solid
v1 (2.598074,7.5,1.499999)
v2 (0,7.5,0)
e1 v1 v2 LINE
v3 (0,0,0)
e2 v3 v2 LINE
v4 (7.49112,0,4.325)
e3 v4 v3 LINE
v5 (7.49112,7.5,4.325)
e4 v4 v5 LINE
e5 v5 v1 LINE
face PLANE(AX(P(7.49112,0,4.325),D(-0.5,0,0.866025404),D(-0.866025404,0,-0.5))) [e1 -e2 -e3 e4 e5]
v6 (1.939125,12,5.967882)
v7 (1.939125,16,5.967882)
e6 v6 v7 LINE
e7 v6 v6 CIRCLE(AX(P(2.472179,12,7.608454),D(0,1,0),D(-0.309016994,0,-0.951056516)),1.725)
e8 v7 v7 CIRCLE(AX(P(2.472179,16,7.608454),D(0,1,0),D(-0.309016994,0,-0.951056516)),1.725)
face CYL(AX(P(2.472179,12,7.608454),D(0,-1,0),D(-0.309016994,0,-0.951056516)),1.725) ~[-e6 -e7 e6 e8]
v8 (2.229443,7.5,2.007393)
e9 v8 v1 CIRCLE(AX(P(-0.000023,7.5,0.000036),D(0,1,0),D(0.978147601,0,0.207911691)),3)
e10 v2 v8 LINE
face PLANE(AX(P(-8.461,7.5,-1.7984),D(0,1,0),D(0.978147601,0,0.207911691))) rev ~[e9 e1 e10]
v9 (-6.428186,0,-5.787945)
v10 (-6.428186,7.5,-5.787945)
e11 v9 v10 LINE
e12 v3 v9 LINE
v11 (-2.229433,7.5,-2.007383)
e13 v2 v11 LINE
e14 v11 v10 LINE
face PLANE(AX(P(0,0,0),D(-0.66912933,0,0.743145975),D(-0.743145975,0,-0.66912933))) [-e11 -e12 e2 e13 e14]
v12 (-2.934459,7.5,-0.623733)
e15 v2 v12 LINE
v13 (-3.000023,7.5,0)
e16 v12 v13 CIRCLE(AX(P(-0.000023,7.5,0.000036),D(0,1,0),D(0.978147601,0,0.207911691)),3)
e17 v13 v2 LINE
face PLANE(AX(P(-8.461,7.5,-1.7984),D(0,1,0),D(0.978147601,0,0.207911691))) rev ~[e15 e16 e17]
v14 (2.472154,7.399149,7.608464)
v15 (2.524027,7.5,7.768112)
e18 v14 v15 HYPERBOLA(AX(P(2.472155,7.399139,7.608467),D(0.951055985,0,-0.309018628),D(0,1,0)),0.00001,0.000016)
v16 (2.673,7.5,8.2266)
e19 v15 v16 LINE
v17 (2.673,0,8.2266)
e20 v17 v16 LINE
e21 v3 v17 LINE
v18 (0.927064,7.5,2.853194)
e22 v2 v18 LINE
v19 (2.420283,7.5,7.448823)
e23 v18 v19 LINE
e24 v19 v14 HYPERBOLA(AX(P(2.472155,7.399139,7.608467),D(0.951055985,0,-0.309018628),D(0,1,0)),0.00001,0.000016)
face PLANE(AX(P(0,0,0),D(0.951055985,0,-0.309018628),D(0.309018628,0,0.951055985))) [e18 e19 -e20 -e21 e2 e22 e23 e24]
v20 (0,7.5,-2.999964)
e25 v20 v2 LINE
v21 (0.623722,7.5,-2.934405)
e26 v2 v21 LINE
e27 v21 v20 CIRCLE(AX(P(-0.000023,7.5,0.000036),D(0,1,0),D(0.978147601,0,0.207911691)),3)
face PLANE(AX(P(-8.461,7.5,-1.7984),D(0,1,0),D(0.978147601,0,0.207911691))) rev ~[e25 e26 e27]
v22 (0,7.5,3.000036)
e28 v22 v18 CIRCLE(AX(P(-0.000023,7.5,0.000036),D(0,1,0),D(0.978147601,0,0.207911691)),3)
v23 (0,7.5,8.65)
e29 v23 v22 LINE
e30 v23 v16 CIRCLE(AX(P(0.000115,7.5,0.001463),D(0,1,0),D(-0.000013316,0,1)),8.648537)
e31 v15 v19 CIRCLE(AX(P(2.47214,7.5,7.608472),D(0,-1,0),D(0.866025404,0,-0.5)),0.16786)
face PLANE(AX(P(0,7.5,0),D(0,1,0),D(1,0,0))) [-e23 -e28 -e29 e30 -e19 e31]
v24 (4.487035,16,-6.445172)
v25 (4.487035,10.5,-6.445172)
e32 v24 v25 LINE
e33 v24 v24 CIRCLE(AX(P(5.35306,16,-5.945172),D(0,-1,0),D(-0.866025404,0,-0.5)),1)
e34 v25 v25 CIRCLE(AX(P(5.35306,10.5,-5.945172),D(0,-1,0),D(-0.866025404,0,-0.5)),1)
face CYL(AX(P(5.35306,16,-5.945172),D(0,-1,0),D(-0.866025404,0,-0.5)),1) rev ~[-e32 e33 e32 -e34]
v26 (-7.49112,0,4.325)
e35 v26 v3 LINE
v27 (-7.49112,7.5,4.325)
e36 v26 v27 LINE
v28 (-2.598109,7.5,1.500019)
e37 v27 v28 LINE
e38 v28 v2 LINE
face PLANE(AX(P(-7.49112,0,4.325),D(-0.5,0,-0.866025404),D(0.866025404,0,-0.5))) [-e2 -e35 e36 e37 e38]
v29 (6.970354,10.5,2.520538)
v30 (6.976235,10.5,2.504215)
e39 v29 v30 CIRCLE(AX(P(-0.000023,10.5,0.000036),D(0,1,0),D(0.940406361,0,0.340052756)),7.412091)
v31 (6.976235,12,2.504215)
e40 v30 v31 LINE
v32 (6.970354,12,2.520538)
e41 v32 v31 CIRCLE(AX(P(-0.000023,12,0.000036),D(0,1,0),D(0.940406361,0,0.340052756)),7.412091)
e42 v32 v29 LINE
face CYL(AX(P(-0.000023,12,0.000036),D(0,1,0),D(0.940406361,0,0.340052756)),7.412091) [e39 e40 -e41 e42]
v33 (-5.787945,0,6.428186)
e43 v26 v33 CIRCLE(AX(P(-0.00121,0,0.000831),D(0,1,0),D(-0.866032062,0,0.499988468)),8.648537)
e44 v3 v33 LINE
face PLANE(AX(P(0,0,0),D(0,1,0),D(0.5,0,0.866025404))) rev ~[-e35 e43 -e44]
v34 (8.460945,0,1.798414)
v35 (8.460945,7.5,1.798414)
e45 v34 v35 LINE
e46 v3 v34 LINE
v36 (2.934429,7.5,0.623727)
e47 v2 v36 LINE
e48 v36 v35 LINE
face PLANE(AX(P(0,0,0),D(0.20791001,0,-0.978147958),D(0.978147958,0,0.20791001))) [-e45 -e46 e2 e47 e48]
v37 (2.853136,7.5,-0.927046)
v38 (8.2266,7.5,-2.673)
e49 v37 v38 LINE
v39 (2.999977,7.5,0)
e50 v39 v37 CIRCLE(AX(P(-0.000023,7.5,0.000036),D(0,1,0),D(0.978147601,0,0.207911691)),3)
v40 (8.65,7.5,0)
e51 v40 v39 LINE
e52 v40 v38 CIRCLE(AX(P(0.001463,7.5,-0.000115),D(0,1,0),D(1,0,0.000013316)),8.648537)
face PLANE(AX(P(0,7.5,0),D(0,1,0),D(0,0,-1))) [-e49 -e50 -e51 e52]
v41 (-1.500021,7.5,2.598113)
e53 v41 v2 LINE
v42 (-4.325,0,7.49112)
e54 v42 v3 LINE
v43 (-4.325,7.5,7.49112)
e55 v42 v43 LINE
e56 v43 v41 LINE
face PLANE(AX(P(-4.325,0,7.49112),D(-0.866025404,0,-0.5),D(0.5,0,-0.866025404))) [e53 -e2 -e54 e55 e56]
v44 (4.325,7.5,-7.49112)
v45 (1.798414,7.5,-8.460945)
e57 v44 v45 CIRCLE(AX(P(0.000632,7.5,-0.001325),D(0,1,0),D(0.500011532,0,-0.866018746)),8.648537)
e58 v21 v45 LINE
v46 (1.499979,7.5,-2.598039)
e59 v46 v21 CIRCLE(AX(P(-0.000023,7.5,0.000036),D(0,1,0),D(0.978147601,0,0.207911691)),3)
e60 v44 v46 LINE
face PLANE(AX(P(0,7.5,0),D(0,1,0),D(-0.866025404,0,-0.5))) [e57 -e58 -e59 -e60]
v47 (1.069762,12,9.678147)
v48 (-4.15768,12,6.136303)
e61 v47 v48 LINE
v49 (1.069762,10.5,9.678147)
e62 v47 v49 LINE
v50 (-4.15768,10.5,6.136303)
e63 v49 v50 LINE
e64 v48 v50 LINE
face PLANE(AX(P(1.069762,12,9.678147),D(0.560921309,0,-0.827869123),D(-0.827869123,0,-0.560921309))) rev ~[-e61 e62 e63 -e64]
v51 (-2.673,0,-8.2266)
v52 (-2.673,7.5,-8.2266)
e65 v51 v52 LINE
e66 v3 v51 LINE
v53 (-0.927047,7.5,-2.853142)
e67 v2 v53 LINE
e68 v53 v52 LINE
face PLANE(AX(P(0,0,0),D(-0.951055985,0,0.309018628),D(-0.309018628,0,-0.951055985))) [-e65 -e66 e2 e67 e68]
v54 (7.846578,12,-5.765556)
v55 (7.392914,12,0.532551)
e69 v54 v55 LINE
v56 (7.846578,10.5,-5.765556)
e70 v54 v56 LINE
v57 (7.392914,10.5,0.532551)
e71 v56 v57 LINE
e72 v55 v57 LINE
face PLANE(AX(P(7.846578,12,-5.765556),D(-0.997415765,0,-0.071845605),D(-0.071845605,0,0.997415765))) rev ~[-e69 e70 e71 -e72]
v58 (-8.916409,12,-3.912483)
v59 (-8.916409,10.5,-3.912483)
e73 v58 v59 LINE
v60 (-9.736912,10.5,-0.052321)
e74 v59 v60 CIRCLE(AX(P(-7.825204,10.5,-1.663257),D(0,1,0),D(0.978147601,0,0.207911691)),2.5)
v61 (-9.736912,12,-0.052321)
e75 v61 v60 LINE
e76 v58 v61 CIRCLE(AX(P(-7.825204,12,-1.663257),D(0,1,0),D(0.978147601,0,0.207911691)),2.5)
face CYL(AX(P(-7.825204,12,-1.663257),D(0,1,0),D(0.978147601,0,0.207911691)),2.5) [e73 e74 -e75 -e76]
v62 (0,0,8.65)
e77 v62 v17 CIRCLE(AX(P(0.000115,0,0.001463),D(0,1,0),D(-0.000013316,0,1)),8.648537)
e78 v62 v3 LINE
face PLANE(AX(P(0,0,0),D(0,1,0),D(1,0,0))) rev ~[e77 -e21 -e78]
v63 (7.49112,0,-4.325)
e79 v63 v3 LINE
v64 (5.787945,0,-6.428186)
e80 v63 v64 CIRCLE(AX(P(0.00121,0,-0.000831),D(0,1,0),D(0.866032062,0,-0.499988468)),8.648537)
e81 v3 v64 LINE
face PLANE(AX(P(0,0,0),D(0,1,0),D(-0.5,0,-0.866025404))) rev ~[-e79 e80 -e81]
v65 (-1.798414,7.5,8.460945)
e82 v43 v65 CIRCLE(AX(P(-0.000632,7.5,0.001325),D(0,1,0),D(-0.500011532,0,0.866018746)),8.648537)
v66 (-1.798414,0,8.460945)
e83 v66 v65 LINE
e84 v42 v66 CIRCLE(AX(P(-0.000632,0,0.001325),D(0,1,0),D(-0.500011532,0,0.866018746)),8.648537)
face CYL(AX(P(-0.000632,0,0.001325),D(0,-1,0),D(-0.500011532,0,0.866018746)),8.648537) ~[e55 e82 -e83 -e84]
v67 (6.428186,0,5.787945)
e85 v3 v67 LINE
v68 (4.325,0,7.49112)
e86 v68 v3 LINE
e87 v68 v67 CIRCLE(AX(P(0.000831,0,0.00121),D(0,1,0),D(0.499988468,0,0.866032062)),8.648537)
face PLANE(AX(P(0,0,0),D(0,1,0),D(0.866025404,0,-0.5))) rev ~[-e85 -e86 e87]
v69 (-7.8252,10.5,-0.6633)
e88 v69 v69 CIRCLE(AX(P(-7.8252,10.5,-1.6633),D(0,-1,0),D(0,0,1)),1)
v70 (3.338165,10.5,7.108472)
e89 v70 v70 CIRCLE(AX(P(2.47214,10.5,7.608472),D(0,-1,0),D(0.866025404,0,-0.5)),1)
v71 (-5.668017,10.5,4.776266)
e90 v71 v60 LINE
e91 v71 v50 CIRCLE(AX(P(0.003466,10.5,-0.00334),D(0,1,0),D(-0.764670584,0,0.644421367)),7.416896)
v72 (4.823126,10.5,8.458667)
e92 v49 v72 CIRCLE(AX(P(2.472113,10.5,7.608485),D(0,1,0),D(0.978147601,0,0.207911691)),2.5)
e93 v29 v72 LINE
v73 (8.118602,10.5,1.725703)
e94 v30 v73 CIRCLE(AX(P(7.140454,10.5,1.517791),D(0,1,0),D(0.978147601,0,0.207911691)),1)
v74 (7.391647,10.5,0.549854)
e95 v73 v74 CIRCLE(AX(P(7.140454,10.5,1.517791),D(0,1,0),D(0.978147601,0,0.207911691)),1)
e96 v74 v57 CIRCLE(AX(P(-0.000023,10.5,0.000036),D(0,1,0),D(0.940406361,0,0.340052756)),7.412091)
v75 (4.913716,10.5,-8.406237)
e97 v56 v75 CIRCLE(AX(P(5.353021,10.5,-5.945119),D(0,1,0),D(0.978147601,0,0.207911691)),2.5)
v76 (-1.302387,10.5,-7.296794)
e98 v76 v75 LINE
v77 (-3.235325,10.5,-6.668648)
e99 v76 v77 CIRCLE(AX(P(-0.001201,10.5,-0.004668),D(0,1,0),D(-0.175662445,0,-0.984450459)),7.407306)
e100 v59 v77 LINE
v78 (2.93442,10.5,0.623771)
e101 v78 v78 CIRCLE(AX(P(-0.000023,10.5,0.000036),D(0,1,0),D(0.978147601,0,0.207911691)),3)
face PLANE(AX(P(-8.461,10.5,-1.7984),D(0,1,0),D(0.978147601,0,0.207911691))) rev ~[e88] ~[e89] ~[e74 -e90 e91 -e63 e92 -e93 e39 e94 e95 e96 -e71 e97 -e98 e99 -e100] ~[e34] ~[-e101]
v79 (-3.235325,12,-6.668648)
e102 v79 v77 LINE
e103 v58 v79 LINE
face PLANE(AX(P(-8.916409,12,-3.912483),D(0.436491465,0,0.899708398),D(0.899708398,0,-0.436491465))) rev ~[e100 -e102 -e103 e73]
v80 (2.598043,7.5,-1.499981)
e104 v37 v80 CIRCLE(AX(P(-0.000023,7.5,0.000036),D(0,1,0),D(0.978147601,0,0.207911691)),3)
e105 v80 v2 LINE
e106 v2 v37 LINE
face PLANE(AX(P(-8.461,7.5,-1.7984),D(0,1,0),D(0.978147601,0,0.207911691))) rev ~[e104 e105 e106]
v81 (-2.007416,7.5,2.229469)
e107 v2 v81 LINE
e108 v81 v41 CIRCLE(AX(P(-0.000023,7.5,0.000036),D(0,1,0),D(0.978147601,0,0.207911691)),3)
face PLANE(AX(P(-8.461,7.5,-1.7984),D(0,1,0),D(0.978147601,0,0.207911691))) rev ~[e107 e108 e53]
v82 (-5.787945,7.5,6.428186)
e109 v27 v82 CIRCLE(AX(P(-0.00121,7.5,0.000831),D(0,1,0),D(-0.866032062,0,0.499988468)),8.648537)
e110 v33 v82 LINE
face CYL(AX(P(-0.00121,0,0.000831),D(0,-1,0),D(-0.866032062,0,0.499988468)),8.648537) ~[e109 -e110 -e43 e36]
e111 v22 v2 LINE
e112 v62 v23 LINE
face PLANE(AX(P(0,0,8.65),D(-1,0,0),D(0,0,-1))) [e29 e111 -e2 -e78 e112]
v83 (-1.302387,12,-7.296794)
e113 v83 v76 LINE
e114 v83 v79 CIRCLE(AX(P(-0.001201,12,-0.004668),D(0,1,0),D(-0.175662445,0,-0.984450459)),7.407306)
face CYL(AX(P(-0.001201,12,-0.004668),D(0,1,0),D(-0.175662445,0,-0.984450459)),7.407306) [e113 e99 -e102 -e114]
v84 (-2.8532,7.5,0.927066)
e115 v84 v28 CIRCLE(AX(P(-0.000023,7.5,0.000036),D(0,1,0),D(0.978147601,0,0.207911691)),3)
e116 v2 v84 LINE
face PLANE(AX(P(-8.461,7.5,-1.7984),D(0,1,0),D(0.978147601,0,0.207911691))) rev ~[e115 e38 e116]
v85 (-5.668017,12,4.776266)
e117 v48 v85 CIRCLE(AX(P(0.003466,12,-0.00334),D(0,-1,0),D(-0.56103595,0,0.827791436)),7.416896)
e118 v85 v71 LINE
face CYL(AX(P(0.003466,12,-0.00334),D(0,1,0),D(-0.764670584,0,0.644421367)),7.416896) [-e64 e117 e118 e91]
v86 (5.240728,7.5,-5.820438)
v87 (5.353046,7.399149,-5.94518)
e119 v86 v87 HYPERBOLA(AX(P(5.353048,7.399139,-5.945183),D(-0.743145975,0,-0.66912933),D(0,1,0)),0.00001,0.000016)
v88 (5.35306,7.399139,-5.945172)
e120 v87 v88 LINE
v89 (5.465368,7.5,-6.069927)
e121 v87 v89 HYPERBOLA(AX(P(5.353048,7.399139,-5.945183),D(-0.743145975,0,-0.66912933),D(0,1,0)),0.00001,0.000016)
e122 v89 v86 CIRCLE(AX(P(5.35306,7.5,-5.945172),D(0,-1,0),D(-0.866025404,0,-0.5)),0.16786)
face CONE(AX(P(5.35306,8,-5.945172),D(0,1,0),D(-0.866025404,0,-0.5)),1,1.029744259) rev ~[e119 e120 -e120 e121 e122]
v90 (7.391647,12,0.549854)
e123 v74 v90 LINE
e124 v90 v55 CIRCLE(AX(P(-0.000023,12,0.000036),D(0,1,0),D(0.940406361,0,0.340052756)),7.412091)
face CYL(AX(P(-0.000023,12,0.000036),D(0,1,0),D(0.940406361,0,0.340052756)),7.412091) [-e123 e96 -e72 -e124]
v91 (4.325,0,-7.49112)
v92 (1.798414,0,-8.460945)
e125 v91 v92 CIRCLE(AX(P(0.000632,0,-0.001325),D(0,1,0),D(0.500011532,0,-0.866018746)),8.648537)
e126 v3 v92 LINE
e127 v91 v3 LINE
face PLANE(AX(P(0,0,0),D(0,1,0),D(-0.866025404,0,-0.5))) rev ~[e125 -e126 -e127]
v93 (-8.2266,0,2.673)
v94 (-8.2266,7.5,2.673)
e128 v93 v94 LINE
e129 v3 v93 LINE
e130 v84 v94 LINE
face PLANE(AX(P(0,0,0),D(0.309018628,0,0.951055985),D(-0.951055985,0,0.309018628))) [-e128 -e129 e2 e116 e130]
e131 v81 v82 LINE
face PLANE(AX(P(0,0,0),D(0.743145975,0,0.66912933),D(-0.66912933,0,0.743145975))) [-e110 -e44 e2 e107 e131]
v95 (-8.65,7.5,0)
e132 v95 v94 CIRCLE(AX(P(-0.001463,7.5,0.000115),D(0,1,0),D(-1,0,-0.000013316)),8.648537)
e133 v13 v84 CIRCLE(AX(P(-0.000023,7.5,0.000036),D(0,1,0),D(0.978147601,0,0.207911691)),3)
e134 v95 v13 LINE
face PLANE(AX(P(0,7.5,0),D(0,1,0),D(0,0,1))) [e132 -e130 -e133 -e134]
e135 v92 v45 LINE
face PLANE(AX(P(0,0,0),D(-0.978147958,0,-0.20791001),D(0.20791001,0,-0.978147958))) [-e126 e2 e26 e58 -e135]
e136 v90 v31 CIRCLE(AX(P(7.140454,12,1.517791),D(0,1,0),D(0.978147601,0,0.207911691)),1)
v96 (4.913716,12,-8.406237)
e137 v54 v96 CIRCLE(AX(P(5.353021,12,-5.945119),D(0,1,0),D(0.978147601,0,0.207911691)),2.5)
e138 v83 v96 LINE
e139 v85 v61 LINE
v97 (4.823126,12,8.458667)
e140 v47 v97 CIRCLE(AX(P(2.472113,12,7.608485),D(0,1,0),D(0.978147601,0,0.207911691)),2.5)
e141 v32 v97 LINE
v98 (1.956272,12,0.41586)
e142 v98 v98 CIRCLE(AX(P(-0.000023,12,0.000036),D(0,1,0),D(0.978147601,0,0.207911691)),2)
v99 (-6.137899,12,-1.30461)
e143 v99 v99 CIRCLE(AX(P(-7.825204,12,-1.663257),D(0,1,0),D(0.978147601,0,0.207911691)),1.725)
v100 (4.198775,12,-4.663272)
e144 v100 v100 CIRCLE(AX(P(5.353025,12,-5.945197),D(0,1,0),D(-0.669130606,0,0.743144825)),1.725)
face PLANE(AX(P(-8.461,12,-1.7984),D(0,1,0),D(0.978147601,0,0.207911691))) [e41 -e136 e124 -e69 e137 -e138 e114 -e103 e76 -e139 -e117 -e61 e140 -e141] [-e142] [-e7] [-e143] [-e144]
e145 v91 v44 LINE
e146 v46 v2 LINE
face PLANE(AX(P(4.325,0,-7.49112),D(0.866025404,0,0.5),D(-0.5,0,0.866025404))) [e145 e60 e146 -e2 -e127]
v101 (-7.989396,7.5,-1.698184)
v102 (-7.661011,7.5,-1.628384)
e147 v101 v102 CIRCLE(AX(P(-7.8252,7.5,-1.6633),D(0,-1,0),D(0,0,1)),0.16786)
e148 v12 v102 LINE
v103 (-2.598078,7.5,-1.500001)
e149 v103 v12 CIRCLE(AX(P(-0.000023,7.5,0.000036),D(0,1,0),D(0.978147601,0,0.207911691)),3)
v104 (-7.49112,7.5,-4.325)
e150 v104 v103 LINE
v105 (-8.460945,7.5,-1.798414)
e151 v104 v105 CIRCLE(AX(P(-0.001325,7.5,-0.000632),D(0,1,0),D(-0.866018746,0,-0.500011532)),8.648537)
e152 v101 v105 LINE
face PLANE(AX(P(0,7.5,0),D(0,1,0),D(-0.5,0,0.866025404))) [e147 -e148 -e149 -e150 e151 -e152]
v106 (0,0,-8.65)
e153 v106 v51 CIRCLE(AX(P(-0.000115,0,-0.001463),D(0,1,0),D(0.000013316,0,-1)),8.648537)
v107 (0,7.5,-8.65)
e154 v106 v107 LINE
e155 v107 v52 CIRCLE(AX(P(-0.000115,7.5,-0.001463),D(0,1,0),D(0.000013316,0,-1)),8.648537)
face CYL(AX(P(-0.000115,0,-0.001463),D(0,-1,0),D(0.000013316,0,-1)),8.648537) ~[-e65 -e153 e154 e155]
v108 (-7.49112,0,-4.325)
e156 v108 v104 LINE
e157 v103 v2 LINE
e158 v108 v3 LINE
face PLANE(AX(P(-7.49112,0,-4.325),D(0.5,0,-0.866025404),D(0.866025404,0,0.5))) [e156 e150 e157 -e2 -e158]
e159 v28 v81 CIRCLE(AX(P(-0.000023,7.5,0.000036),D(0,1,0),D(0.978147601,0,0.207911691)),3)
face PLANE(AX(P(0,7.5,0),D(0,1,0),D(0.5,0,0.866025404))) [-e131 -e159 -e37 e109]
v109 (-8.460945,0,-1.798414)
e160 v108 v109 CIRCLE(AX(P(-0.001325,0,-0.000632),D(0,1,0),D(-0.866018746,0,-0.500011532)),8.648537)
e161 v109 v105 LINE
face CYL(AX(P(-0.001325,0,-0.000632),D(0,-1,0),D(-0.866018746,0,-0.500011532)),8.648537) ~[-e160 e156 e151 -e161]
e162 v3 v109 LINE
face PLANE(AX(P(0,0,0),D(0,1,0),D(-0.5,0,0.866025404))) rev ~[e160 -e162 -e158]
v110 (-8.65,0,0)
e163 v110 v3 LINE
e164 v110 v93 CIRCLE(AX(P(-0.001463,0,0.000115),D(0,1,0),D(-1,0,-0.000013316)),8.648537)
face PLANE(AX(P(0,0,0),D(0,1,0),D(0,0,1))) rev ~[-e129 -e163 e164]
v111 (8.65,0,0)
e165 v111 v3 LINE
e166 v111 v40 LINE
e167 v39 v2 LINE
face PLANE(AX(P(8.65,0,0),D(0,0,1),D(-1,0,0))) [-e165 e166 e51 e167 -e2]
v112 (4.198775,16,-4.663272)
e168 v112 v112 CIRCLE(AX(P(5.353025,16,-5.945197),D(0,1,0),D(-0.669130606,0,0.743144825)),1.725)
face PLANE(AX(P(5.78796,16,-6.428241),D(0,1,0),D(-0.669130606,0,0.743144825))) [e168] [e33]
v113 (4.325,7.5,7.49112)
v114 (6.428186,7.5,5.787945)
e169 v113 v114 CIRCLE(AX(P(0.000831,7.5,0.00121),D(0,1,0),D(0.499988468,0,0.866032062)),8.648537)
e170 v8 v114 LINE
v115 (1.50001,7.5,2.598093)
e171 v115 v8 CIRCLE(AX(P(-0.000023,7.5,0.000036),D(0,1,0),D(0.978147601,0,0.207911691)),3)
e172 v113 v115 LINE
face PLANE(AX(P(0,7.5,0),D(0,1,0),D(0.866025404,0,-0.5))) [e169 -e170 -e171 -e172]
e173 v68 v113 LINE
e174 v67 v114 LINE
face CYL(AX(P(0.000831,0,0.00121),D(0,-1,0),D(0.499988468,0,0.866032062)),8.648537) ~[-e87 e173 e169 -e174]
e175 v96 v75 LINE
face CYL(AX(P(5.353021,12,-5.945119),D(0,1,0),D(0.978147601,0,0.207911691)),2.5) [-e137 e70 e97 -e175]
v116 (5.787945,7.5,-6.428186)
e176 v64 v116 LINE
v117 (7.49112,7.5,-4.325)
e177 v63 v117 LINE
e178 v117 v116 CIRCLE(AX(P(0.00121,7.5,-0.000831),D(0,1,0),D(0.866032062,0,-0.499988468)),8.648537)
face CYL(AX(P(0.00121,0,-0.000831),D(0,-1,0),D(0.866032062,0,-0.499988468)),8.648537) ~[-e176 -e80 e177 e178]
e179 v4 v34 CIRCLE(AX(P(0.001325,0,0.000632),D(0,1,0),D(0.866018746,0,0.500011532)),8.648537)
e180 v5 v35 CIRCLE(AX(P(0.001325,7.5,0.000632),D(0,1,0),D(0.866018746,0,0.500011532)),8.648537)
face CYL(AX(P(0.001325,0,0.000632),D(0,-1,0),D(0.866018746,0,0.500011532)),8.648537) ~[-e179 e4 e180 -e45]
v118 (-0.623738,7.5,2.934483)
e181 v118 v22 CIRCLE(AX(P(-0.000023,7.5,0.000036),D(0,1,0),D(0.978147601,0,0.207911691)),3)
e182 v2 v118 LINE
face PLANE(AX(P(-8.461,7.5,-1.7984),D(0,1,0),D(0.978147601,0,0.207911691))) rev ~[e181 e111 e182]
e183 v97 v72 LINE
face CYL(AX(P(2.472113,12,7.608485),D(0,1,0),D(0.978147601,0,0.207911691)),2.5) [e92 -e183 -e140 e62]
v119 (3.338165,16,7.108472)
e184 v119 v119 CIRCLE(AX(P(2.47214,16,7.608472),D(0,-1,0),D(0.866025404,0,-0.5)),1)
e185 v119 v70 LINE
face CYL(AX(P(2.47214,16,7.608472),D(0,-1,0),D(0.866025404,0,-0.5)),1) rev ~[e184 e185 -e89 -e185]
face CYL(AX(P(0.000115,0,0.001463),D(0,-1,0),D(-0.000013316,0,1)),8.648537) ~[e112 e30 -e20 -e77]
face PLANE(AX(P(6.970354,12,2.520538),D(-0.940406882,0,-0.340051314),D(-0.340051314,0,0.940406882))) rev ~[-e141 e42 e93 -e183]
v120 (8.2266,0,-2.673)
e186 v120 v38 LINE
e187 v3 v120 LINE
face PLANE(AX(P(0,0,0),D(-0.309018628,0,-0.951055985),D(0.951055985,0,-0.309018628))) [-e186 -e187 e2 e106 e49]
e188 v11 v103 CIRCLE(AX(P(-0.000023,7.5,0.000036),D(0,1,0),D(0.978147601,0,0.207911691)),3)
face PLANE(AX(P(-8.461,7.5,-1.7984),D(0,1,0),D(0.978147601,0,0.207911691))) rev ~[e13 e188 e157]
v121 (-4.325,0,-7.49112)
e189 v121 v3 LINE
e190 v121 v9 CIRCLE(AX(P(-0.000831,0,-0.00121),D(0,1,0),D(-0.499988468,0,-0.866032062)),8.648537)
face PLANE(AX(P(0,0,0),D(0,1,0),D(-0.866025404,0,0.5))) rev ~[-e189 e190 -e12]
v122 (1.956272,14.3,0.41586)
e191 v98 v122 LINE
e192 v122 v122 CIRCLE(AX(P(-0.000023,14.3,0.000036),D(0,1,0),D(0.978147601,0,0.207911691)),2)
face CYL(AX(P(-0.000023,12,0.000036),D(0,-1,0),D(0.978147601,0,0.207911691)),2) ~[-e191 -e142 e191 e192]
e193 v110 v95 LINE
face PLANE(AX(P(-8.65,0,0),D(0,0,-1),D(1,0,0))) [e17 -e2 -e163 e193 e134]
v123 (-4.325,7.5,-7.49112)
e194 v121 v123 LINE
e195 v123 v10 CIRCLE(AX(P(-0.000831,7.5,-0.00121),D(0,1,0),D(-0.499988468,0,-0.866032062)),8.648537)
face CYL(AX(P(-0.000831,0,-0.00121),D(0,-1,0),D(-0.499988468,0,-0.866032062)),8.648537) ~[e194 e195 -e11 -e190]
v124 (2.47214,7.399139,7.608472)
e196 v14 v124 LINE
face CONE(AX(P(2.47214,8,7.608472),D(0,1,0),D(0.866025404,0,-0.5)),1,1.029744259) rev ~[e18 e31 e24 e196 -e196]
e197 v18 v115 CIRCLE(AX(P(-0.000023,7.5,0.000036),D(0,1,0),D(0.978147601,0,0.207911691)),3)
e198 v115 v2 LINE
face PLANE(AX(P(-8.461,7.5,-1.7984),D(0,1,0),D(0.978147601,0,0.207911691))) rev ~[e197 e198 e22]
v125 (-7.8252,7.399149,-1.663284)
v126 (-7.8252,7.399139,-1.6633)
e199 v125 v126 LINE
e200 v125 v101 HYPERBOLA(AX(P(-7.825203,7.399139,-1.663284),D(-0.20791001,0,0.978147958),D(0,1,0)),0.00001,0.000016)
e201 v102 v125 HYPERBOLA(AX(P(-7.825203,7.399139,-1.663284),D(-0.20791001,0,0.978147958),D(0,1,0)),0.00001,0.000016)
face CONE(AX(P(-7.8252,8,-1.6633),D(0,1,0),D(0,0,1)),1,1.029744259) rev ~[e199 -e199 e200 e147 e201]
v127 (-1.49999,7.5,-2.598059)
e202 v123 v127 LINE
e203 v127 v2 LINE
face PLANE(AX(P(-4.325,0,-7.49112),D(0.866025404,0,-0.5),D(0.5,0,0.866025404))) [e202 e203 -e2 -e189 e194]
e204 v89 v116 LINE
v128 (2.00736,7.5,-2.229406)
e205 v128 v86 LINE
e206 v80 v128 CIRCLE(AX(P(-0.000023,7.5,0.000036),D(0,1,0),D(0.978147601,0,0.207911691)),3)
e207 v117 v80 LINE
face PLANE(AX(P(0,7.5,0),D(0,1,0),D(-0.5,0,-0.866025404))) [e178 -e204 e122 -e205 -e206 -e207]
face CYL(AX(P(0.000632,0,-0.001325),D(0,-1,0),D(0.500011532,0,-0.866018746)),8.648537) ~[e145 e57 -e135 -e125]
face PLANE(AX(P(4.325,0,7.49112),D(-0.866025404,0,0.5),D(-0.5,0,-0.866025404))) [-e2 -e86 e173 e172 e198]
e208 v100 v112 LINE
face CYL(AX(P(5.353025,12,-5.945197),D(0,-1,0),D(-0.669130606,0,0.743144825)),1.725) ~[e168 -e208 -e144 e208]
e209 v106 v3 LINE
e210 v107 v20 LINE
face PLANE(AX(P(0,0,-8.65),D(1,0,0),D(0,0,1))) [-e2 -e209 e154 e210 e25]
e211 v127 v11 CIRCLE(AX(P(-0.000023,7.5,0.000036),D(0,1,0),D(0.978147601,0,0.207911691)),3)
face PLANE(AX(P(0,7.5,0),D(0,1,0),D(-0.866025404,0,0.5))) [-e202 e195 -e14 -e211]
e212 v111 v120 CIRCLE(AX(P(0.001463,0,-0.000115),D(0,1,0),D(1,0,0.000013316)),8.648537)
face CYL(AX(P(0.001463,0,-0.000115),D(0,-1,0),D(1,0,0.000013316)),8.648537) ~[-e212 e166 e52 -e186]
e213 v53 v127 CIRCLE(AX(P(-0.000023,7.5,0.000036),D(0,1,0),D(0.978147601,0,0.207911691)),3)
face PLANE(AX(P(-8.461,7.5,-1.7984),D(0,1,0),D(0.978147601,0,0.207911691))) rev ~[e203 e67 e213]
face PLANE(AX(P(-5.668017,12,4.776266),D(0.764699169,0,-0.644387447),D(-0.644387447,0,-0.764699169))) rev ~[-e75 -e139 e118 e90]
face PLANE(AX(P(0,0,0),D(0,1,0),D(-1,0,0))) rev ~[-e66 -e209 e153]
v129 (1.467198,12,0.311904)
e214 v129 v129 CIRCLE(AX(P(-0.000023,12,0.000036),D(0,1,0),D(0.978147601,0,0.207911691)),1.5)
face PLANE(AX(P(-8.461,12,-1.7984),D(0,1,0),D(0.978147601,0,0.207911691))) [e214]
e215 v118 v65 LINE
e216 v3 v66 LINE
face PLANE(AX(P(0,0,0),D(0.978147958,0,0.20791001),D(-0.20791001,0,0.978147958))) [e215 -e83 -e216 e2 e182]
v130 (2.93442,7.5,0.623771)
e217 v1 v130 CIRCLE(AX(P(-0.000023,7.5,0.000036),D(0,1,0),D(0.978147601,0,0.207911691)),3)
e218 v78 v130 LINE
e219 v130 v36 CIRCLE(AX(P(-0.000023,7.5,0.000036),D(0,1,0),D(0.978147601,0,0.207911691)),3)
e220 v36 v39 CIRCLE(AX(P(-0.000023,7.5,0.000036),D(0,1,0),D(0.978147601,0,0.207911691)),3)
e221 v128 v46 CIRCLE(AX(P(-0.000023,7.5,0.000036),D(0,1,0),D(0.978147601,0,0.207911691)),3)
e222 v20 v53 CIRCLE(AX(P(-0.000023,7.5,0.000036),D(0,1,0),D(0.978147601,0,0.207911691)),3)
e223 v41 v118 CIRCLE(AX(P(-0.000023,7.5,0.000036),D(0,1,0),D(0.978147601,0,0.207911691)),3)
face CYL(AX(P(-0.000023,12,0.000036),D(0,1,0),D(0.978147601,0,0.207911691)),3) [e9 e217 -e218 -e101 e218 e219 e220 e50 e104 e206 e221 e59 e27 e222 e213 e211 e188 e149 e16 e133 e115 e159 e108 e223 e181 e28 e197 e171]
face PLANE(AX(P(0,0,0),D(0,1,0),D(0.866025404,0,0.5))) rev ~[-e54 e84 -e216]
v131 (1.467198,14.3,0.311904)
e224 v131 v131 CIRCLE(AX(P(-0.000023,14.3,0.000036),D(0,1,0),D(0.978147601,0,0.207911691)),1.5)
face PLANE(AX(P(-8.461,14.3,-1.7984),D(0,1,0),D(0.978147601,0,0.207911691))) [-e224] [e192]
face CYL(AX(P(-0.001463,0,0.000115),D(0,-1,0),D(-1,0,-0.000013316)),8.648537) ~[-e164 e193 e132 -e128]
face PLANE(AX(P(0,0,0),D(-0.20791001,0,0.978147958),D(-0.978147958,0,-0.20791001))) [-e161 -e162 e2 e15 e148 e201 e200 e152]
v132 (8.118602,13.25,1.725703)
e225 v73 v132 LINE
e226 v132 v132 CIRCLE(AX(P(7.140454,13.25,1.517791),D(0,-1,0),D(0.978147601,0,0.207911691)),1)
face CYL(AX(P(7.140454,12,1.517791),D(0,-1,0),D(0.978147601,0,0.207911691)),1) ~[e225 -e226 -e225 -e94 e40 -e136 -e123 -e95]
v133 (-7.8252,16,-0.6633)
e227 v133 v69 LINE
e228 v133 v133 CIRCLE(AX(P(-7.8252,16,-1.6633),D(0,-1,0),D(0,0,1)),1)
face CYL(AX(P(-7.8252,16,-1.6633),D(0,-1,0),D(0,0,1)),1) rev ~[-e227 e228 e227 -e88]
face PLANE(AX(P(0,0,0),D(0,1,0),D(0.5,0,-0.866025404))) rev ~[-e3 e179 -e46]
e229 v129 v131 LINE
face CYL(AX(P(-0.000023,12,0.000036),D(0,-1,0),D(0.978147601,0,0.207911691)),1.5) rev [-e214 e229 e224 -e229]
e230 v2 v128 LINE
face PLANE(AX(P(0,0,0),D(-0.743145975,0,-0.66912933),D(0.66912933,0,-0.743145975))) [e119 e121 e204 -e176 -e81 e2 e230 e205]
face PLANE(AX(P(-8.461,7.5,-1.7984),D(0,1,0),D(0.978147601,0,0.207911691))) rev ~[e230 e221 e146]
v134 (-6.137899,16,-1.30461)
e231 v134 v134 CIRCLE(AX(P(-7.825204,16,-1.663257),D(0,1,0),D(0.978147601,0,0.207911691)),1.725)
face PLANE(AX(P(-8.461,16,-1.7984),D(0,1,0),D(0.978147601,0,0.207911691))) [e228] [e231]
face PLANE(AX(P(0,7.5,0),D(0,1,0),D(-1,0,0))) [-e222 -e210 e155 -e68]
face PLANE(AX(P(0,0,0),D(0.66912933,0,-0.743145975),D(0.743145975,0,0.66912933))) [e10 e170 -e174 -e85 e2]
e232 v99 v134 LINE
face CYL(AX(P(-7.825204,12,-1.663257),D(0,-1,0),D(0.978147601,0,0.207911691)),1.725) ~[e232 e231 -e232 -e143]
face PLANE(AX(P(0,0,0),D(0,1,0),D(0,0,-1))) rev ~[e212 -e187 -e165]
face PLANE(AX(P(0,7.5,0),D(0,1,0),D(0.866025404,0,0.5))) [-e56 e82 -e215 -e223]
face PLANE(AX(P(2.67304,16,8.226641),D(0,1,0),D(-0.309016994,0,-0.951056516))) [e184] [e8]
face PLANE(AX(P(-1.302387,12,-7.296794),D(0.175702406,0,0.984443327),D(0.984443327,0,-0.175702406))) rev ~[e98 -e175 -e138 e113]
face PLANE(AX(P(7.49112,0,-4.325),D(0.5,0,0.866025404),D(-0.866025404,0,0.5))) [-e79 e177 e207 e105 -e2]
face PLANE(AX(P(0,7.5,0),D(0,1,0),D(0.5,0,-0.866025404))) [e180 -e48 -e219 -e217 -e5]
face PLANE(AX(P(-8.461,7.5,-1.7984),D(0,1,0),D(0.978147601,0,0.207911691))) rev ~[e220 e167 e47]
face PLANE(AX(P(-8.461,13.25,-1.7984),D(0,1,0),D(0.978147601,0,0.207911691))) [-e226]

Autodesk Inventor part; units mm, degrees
ref_plane "YZ Plane" through (0, 0, 0) normal (1, 0, 0) x (0, 1, 0)
ref_plane "XZ Plane" through (0, 0, 0) normal (0, 1, 0) x (-1, 0, 0)
sketch "Sketch1" plane through (0, 0, 0) normal (0, 1, 0) x (-1, 0, 0)
  arc A0 (0, -8.65) -> (2.673, -8.2266) centre (0, 0) ccw
  line L0 (0, 0) -> (2.673, -8.2266) construction
  line L1 (0, 0) -> (0, -8.65) construction
  line L2 (0, 0) -> (2.673, -8.2266)
  line L3 (0, -8.65) -> (0, 0)
  dimension "d0" = 8.65
  dimension "d1" = 18
extrude "Extrusion1" add sketch "Sketch1" along normal blind 7.5
pattern_circular "Circular Pattern1" count 12 over 360 about axis through (0, -10, 0) along (0, 1, 0) of "Extrusion1"
ref_plane "Work Plane1" through (-8.461, 12, -1.7984) normal (0, 1, 0) x (0.9781, 0, 0.2079)
sketch "Sketch2" plane through (-8.461, 12, -1.7984) normal (0, 1, 0) x (0.9781, 0, 0.2079)
  line L0 (8.65, 0) -> (0, 0) projected
  circle A0 centre (0.65, 0) radius 2.5
  circle A1 centre (12.65, -6.9282) radius 2.5
  circle A2 centre (12.65, 6.9282) radius 2.5
  line L1 (5.859, 6.8666) -> (11.7086, 9.2442)
  line L2 (15.1264, 7.271) -> (15.9921, 1.0162)
  line L3 (15.9921, -1.0162) -> (15.1264, -7.271)
  line L4 (11.7086, -9.2442) -> (5.859, -6.8666)
  line L5 (4.325, -7.4911) -> (8.65, 0) projected
  line L6 (4.0989, -5.8503) -> (-0.885, -1.9732)
  line L7 (-0.885, 1.9732) -> (4.0989, 5.8503)
  arc A3 (15.9921, -1.0162) -> (15.9921, 1.0162) centre (8.65, 0) ccw
  arc A4 (5.859, 6.8666) -> (4.0989, 5.8503) centre (8.65, 0) ccw
  arc A5 (4.0989, -5.8503) -> (5.859, -6.8666) centre (8.65, 0) ccw
  point P0 (15.1264, 7.271)
  point P1 (-0.885, 1.9732)
  dimension "d9" = 5
  dimension "d12" = 360
  dimension "d23" = 8
extrude "Extrusion2" add sketch "Sketch2" against normal blind 1.5
sketch "Sketch3" plane through (-8.461, 12, -1.7984) normal (0, 1, 0) x (0.9781, 0, 0.2079)
  circle A0 centre (8.65, 0) radius 3
  dimension "d16" = 6
extrude "Extrusion3" add sketch "Sketch3" against normal up to surface (4.5 mm away)
sketch "Sketch4" plane through (-8.461, 12, -1.7984) normal (0, 1, 0) x (0.9781, 0, 0.2079)
  line L0 (8.65, 0) -> (0, 0) projected
  circle A0 centre (0.65, 0) radius 1.725
  dimension "d19" = 3.45
  dimension "d20" = 8
extrude "Extrusion4" add sketch "Sketch4" along normal blind 4
hole "Hole1" at (-7.8252, 16, -1.6633) direction (0, -1, 0) diameter 2 depth 8 tip angle 118
pattern_circular "Circular Pattern2" count 3 over 360 about axis through (0, -10, 0) along (0, 1, 0) of "Extrusion4", "Hole1"
sketch "Sketch5" plane through (-8.461, 12, -1.7984) normal (0, 1, 0) x (0.9781, 0, 0.2079)
  line L0 (8.65, 0) -> (17.3, 0) projected
  circle A0 centre (15.95, 0) radius 1
  dimension "d36" = 2
  dimension "d37" = 7.3
extrude "Extrusion5" add sketch "Sketch5" along normal blind 1.25 and the other way blind 1.5
sketch "Sketch6" plane through (-8.461, 12, -1.7984) normal (0, 1, 0) x (0.9781, 0, 0.2079)
  circle A0 centre (8.65, 0) radius 2
  circle A1 centre (8.65, 0) radius 1.5
  dimension "d42" = 4
  dimension "d43" = 3
extrude "Extrusion6" add sketch "Sketch6" along normal blind 2.3
properties part number "motor_GM1806-80T_SkyproRO" material "Iron, Cast"
